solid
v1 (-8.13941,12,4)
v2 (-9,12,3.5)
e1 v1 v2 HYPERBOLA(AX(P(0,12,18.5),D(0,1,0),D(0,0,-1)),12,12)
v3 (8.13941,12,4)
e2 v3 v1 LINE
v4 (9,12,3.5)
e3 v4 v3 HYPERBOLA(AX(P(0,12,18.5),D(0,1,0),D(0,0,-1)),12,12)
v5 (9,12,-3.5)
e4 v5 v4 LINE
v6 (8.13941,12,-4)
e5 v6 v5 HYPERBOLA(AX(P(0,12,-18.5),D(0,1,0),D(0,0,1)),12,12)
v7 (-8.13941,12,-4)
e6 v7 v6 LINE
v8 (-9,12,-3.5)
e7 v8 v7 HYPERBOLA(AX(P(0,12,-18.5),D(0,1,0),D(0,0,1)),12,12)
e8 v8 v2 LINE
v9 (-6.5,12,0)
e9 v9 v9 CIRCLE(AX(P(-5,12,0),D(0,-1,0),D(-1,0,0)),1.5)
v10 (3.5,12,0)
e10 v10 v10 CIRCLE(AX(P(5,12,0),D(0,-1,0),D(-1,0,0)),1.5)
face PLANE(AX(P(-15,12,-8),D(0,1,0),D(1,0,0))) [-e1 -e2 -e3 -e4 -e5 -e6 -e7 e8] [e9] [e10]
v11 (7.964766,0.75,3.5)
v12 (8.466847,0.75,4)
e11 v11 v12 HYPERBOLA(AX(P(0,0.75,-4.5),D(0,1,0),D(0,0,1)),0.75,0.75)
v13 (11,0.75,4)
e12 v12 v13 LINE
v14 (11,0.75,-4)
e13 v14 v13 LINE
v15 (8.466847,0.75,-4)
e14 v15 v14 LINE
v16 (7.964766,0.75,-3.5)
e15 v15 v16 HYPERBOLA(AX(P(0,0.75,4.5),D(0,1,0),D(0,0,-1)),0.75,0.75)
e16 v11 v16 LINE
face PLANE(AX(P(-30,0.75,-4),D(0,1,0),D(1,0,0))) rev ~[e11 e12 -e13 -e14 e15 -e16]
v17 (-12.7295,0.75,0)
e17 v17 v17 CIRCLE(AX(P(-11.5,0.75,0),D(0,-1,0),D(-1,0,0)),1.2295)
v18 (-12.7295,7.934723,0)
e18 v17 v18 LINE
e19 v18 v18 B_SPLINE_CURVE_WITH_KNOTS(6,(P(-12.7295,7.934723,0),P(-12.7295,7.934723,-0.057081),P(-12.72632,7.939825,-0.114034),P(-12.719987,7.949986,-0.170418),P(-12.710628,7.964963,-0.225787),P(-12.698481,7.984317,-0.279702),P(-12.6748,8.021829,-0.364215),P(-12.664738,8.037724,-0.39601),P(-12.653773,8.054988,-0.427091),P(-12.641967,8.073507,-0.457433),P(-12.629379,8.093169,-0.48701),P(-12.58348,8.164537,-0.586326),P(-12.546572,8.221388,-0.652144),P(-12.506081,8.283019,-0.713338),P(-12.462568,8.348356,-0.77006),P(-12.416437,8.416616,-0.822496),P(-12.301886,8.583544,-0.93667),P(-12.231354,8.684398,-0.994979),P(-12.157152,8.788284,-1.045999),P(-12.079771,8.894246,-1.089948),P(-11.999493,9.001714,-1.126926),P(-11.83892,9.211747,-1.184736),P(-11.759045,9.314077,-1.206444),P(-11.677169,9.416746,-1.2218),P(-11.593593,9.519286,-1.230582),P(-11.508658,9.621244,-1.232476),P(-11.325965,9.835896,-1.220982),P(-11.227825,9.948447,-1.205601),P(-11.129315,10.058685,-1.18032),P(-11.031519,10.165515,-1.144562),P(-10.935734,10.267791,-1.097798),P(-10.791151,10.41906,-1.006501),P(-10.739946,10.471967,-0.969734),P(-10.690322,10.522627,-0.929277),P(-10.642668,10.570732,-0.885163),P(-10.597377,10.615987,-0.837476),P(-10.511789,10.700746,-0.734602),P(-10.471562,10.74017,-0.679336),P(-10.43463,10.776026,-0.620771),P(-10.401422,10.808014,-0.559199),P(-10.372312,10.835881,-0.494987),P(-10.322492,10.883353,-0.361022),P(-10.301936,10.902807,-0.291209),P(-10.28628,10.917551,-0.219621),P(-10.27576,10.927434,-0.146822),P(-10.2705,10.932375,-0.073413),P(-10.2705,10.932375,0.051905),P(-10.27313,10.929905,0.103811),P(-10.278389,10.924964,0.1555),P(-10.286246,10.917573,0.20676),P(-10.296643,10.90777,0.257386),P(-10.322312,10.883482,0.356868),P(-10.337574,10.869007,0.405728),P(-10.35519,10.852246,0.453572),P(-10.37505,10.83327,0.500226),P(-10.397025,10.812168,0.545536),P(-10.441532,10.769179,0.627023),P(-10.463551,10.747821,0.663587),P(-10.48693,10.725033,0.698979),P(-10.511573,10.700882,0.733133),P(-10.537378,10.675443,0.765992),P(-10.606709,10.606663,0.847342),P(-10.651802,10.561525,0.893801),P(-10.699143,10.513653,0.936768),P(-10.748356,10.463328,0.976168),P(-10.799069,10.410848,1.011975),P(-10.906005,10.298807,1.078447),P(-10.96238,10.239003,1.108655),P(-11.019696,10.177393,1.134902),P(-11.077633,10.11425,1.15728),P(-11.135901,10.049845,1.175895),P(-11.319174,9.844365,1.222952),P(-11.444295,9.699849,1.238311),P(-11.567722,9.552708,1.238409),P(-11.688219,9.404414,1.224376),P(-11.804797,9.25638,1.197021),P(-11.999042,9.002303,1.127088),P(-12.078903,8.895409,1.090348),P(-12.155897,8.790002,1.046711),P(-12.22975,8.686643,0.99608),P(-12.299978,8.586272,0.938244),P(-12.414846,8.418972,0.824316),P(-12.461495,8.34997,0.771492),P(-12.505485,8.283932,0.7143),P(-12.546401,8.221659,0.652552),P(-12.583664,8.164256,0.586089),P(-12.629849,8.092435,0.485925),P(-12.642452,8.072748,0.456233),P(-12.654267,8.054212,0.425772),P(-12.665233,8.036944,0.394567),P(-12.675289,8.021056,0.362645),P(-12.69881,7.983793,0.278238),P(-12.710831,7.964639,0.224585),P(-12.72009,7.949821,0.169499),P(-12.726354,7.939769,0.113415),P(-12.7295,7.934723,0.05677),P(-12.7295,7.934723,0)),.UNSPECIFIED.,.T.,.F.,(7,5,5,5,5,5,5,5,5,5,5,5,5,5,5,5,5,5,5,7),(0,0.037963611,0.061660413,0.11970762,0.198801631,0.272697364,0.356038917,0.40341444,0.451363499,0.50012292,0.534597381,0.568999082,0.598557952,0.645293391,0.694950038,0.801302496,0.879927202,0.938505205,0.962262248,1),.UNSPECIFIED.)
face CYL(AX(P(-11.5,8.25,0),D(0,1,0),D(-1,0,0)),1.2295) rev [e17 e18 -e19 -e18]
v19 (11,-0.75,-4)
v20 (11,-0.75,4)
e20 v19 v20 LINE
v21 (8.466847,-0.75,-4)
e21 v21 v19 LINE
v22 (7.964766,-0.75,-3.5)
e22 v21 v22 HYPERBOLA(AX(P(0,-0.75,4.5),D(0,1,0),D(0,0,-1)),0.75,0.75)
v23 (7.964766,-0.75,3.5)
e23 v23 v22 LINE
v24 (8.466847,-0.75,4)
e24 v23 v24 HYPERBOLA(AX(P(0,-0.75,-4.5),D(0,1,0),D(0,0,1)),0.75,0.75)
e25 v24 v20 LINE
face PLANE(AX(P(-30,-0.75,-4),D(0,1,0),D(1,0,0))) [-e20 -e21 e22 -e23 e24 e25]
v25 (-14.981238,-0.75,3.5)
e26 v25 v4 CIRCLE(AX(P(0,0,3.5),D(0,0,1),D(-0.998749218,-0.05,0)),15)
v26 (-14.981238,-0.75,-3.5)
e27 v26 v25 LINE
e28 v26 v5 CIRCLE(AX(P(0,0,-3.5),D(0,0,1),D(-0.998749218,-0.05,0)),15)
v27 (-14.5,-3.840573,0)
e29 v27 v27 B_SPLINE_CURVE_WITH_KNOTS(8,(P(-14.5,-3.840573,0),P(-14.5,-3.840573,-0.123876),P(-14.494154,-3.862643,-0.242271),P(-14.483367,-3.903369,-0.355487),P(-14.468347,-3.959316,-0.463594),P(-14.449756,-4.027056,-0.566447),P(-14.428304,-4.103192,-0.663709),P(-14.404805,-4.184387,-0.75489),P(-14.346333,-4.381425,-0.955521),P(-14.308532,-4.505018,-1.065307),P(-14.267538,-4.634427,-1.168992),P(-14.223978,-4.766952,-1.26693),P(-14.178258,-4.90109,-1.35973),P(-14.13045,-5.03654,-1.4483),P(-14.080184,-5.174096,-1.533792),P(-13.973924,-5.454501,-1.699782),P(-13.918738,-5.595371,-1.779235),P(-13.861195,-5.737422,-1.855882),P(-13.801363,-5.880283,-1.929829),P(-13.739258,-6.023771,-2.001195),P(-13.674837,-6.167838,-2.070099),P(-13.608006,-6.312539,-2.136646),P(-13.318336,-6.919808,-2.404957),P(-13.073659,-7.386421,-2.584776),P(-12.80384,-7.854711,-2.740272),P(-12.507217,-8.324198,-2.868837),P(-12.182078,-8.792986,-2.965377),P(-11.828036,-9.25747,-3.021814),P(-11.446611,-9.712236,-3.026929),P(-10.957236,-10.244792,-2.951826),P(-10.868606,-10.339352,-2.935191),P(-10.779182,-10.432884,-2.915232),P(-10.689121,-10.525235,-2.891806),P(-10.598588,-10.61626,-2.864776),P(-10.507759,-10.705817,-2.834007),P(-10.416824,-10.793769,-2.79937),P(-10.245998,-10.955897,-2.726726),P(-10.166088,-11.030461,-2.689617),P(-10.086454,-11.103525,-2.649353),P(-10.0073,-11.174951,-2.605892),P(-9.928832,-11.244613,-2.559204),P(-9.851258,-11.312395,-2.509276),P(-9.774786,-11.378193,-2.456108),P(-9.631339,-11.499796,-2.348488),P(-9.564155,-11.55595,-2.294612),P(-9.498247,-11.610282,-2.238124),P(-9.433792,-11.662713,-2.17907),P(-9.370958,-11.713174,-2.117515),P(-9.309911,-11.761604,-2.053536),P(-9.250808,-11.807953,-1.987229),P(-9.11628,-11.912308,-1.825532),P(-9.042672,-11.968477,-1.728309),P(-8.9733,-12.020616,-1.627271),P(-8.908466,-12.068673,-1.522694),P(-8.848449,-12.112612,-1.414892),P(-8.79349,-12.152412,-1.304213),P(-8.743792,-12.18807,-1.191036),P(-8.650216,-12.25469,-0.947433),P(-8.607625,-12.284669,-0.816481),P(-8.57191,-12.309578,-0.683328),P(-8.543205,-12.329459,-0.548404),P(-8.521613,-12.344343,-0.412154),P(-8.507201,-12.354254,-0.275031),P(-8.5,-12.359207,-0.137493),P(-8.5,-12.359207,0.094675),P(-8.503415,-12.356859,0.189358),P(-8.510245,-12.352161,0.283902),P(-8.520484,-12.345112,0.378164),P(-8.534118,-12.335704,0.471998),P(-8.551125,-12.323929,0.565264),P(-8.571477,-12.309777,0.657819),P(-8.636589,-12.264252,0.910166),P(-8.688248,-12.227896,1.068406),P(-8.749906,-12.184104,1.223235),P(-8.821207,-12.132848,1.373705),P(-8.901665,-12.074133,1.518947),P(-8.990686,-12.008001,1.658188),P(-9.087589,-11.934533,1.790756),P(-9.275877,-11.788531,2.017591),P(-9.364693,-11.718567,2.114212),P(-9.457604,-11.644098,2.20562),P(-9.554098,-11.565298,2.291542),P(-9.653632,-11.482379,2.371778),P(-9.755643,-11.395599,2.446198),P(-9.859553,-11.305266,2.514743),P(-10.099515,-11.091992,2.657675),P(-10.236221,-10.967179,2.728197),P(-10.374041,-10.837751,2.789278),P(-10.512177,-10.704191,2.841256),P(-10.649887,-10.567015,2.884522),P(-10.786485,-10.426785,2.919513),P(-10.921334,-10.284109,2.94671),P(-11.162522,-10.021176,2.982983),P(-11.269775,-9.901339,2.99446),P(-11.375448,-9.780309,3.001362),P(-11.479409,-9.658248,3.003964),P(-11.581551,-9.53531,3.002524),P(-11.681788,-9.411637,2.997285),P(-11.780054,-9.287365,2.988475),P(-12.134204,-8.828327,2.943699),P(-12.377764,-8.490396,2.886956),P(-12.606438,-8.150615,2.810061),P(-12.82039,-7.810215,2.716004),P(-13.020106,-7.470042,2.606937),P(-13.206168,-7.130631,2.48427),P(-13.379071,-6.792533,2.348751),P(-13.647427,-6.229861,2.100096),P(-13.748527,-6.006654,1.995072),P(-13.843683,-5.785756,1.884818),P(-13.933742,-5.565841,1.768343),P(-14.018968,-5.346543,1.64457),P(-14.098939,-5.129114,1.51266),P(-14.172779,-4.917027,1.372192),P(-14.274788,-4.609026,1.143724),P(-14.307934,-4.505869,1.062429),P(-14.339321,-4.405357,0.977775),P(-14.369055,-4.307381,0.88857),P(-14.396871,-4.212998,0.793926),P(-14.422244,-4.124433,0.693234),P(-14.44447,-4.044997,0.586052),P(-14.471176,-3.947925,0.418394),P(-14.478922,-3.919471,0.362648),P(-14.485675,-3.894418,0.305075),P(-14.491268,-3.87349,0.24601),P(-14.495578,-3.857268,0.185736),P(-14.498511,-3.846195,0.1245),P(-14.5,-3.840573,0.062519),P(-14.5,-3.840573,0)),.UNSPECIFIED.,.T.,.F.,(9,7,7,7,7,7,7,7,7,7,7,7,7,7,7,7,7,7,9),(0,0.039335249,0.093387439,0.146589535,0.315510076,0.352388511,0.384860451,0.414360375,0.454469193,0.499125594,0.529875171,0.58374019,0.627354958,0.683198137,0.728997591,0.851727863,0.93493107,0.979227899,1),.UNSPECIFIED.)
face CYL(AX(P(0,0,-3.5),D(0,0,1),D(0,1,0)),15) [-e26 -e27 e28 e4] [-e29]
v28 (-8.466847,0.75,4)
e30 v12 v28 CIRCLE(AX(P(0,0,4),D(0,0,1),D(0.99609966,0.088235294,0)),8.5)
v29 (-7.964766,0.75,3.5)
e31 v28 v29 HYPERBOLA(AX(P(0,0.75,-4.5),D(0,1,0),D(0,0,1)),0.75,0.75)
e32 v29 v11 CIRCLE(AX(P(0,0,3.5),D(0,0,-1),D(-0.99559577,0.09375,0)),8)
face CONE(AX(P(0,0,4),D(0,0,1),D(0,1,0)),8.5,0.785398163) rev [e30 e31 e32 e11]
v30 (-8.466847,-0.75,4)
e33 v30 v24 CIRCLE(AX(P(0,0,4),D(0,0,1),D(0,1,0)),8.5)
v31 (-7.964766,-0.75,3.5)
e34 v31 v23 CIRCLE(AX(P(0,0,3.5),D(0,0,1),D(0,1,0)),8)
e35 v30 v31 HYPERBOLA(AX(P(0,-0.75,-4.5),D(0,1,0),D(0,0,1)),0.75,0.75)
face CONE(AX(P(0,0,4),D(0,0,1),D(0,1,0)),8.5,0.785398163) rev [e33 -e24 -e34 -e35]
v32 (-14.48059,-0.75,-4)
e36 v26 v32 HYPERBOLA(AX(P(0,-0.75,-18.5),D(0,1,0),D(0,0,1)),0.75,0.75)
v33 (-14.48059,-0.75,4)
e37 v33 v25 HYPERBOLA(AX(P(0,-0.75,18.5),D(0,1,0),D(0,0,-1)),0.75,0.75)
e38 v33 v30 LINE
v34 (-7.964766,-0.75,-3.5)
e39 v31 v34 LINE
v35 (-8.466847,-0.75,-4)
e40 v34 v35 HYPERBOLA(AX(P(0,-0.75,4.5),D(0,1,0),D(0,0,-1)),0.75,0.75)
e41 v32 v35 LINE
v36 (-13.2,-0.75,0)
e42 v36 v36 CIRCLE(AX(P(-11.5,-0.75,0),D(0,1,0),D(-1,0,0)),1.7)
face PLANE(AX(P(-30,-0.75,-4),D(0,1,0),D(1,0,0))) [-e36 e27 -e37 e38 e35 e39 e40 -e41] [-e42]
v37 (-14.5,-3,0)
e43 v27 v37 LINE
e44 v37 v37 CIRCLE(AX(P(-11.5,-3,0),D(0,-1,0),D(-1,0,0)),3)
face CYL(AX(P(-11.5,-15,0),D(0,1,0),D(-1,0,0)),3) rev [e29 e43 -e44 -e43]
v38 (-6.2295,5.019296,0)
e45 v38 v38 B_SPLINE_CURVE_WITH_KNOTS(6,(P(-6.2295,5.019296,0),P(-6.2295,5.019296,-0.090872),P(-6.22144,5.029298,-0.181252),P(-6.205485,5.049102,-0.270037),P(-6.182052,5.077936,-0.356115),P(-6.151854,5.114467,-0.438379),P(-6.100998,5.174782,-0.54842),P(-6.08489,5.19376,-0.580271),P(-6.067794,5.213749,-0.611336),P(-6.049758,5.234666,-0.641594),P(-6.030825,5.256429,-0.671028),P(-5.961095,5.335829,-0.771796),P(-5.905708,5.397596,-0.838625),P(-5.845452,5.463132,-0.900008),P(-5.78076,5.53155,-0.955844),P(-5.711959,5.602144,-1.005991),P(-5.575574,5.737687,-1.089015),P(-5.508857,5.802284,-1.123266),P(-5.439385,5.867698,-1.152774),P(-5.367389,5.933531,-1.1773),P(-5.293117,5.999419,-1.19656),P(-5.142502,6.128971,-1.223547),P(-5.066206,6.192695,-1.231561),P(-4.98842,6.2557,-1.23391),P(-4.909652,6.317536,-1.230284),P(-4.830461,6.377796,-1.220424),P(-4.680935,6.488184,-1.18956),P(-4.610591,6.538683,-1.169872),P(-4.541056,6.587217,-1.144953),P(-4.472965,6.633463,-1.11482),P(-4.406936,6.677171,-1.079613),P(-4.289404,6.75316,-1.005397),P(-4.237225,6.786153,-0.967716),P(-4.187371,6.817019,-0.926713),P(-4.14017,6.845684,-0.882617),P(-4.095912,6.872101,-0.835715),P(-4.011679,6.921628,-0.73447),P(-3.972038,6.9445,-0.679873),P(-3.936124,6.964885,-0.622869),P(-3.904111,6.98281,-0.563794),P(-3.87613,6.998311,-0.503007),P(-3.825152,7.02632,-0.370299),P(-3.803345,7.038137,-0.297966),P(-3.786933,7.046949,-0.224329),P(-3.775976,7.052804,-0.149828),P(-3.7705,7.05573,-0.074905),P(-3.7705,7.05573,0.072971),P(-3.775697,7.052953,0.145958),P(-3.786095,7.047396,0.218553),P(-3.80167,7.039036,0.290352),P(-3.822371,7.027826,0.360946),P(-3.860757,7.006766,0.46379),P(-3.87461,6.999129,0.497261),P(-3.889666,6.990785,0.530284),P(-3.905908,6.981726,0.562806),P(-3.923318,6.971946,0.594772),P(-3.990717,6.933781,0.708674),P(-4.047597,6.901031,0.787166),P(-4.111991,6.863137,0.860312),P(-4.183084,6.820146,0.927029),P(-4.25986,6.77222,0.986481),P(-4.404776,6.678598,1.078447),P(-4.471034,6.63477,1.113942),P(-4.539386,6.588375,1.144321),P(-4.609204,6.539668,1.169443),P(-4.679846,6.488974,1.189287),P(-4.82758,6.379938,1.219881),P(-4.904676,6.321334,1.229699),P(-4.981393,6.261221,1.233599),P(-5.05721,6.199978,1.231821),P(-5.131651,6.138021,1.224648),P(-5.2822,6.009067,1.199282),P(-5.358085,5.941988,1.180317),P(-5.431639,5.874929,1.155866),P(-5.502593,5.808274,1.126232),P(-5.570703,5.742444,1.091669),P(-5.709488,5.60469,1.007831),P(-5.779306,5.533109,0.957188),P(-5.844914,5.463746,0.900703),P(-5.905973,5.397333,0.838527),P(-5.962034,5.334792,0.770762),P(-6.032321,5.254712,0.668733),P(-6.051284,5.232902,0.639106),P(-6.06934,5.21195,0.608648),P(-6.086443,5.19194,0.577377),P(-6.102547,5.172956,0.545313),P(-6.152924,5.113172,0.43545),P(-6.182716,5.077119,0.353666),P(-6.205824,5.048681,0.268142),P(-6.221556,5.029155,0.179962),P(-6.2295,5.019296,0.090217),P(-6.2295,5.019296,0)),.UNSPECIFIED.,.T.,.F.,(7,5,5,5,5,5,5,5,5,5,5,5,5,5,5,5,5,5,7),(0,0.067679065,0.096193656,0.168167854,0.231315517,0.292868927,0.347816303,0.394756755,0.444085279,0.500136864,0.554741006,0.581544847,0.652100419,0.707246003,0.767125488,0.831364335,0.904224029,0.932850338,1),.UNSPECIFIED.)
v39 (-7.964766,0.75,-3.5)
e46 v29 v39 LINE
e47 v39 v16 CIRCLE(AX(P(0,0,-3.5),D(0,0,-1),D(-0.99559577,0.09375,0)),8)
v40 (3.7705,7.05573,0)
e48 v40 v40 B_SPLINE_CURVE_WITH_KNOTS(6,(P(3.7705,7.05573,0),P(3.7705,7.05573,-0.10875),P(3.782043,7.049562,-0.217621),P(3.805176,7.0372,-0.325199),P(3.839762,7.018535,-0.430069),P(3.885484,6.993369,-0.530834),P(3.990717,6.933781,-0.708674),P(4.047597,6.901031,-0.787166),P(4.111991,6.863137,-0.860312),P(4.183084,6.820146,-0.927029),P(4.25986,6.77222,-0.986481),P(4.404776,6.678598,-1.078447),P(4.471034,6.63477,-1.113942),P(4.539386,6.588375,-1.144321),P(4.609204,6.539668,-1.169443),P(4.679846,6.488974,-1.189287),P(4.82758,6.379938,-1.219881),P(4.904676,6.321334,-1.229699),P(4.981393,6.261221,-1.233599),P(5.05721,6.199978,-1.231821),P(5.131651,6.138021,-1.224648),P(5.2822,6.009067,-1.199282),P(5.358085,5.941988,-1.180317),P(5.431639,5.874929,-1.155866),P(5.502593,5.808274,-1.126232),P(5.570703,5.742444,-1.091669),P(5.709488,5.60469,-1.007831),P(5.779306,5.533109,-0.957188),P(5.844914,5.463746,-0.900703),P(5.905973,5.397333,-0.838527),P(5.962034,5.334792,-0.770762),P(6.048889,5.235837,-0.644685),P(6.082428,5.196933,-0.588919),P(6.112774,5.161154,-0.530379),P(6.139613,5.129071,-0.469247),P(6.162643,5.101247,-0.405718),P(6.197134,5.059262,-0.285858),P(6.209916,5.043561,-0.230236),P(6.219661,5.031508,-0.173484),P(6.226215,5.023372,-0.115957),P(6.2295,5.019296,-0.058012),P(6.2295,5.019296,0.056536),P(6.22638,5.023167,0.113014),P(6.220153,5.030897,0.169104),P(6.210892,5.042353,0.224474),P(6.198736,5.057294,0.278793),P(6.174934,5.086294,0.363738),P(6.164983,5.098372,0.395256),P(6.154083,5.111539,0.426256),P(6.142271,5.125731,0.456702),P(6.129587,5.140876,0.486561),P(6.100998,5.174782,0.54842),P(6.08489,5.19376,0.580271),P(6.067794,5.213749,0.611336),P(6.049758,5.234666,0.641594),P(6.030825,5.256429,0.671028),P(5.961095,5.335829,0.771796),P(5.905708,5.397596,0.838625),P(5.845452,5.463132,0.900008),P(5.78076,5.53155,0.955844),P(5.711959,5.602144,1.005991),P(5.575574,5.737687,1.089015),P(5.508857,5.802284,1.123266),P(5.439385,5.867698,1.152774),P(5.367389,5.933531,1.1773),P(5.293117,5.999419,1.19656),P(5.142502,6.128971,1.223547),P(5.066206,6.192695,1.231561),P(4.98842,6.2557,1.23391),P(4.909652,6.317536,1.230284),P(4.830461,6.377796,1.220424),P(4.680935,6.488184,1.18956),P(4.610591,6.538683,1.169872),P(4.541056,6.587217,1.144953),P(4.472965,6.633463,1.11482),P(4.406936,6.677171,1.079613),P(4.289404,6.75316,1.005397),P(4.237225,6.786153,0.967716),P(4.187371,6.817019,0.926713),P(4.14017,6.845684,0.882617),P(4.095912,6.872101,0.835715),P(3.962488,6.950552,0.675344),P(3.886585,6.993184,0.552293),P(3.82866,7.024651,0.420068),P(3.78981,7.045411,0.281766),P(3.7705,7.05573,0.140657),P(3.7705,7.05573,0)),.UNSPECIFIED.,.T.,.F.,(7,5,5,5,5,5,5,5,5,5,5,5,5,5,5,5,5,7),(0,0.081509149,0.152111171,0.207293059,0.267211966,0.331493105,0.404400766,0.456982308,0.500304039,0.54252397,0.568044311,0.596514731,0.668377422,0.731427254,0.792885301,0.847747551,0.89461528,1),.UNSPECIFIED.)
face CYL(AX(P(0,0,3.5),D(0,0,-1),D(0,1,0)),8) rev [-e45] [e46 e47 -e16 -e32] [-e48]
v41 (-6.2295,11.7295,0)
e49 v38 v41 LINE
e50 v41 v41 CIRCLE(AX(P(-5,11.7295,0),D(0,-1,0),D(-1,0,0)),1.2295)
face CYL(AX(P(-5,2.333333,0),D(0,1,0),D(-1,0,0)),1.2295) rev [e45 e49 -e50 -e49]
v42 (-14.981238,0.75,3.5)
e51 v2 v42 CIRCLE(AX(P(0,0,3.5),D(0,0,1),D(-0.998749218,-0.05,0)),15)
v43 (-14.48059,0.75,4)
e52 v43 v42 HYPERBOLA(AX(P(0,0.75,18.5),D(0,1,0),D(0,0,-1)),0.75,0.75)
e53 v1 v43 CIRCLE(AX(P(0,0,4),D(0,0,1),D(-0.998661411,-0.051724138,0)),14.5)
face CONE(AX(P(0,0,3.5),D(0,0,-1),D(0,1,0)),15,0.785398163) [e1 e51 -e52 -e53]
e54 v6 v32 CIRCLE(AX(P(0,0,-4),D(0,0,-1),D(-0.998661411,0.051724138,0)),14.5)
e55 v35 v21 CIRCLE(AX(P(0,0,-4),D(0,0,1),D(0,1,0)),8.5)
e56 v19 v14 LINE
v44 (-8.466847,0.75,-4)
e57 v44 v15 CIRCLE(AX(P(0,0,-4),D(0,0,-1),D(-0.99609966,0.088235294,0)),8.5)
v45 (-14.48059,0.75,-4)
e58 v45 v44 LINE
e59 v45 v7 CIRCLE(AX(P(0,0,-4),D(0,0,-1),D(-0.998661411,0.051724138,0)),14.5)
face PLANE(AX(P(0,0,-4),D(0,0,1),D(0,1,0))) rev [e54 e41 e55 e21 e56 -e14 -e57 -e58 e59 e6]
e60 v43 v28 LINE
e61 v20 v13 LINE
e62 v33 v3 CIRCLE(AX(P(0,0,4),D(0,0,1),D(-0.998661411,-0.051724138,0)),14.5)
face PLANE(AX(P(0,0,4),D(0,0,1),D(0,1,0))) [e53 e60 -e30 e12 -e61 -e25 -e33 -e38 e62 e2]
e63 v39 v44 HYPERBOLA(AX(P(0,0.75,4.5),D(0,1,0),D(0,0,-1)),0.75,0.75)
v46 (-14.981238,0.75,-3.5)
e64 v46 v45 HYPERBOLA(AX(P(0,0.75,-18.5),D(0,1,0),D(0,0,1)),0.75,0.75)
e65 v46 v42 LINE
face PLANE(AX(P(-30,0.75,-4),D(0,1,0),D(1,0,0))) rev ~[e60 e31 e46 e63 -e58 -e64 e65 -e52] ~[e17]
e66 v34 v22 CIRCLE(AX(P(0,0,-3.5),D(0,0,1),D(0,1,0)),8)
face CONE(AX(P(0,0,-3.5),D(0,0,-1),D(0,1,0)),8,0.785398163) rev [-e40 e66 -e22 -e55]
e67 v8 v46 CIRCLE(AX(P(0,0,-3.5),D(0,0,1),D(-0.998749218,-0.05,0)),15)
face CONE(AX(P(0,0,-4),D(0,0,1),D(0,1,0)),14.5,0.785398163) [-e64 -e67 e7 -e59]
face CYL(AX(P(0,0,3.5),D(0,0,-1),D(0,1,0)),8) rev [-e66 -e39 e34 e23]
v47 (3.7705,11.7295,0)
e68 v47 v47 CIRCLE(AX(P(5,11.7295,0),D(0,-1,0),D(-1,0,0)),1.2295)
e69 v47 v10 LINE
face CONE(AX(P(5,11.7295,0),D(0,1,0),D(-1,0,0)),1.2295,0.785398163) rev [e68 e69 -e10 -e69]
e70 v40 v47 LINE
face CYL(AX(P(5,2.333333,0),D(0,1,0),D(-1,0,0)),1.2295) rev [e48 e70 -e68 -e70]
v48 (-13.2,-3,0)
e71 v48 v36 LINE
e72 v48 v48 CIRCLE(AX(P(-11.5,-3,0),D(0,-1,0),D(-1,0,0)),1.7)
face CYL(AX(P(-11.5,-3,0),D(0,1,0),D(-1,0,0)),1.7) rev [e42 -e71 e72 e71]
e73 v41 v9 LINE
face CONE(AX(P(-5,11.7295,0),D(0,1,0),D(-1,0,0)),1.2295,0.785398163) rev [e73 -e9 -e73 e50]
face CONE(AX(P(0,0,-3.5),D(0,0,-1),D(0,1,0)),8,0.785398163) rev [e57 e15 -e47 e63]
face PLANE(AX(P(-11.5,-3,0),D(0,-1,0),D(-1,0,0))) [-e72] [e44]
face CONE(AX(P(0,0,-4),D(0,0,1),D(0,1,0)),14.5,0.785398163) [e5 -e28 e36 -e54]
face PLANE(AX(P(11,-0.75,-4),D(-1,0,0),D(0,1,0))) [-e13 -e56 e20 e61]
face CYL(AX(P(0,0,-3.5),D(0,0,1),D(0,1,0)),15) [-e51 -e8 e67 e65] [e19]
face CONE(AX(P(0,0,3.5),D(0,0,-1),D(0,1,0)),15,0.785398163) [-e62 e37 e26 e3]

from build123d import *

# Parameters (mm, degrees)
CUT_EXTRUDE1_DEPTH      = 4
CUT_EXTRUDE1_DEPTH_BACK = 4
SKETCH2_W               = 41
SKETCH2_H               = 1.5
SKETCH4_W               = 1.2295
SKETCH4_H               = 15
CUT_EXTRUDE2_DEPTH      = 8
CUT_EXTRUDE2_DEPTH_BACK = 8
SKETCH5_W               = 30
SKETCH5_H               = 3.75


with BuildPart() as part:
    # Sketch1 → Revolve1 (revolve)
    with BuildSketch(Plane(origin=(0, 0, 0), x_dir=(0, 0, -1), z_dir=(1, 0, 0))):
        Polygon((-4, 8.5), (-3.5, 8), (3.5, 8), (4, 8.5), (4, 14.5), (3.5, 15), (-3.5, 15), (-4, 14.5), align=None)
    revolve(axis=Axis((0, 0, -4), (0, 0, 1)))

    # Sketch2 → Cut-Extrude1 (cut, two sides: drawn at the far end of the back side and taken through both)
    with BuildSketch(Plane.XY.offset(-CUT_EXTRUDE1_DEPTH_BACK)):
        with Locations((-9.5, 0)):
            Rectangle(SKETCH2_W, SKETCH2_H)
    extrude(amount=CUT_EXTRUDE1_DEPTH + CUT_EXTRUDE1_DEPTH_BACK, mode=Mode.SUBTRACT)

    # Sketch3 → Cut-Revolve1 (revolve, cut)
    with BuildSketch(Plane.XY):
        Polygon((-11.5, -15), (-14.5, -15), (-14.5, -3), (-13.2, -3), (-13.2, 0), (-11.5, 0), align=None)
    revolve(axis=Axis((-11.5, 0, 0), (0, -1, 0)), mode=Mode.SUBTRACT)

    # Sketch4 → Cut-Revolve2 (revolve, cut)
    with BuildSketch(Plane.XY):
        with Locations((-12.11475, 8.25)):
            Rectangle(SKETCH4_W, SKETCH4_H)
    revolve(axis=Axis((-11.5, 15.75, 0), (0, -1, 0)), mode=Mode.SUBTRACT)

    # Sketch5 → Cut-Extrude2 (cut, two sides: drawn at the far end of the back side and taken through both)
    with BuildSketch(Plane.XY.offset(-CUT_EXTRUDE2_DEPTH_BACK)):
        with Locations((0, 13.875)):
            Rectangle(SKETCH5_W, SKETCH5_H)
    extrude(amount=CUT_EXTRUDE2_DEPTH + CUT_EXTRUDE2_DEPTH_BACK, mode=Mode.SUBTRACT)

    # Sketch6 → Cut-Revolve3 (revolve, cut)
    with BuildSketch(Plane.XY):
        Polygon((-5, 2.333333333), (-6.2295, 2.333333333), (-6.2295, 11.7295), (-6.5, 12), (-5, 12), align=None)
    revolve(axis=Axis((-5, 12, 0), (0, -1, 0)), mode=Mode.SUBTRACT)

    # Sketch7 → Cut-Revolve4 (revolve, cut)
    with BuildSketch(Plane.XY):
        Polygon((5, 2.333333333), (3.7705, 2.333333333), (3.7705, 11.7295), (3.5, 12), (5, 12), align=None)
    revolve(axis=Axis((5, 12, 0), (0, -1, 0)), mode=Mode.SUBTRACT)


solid = part.part
